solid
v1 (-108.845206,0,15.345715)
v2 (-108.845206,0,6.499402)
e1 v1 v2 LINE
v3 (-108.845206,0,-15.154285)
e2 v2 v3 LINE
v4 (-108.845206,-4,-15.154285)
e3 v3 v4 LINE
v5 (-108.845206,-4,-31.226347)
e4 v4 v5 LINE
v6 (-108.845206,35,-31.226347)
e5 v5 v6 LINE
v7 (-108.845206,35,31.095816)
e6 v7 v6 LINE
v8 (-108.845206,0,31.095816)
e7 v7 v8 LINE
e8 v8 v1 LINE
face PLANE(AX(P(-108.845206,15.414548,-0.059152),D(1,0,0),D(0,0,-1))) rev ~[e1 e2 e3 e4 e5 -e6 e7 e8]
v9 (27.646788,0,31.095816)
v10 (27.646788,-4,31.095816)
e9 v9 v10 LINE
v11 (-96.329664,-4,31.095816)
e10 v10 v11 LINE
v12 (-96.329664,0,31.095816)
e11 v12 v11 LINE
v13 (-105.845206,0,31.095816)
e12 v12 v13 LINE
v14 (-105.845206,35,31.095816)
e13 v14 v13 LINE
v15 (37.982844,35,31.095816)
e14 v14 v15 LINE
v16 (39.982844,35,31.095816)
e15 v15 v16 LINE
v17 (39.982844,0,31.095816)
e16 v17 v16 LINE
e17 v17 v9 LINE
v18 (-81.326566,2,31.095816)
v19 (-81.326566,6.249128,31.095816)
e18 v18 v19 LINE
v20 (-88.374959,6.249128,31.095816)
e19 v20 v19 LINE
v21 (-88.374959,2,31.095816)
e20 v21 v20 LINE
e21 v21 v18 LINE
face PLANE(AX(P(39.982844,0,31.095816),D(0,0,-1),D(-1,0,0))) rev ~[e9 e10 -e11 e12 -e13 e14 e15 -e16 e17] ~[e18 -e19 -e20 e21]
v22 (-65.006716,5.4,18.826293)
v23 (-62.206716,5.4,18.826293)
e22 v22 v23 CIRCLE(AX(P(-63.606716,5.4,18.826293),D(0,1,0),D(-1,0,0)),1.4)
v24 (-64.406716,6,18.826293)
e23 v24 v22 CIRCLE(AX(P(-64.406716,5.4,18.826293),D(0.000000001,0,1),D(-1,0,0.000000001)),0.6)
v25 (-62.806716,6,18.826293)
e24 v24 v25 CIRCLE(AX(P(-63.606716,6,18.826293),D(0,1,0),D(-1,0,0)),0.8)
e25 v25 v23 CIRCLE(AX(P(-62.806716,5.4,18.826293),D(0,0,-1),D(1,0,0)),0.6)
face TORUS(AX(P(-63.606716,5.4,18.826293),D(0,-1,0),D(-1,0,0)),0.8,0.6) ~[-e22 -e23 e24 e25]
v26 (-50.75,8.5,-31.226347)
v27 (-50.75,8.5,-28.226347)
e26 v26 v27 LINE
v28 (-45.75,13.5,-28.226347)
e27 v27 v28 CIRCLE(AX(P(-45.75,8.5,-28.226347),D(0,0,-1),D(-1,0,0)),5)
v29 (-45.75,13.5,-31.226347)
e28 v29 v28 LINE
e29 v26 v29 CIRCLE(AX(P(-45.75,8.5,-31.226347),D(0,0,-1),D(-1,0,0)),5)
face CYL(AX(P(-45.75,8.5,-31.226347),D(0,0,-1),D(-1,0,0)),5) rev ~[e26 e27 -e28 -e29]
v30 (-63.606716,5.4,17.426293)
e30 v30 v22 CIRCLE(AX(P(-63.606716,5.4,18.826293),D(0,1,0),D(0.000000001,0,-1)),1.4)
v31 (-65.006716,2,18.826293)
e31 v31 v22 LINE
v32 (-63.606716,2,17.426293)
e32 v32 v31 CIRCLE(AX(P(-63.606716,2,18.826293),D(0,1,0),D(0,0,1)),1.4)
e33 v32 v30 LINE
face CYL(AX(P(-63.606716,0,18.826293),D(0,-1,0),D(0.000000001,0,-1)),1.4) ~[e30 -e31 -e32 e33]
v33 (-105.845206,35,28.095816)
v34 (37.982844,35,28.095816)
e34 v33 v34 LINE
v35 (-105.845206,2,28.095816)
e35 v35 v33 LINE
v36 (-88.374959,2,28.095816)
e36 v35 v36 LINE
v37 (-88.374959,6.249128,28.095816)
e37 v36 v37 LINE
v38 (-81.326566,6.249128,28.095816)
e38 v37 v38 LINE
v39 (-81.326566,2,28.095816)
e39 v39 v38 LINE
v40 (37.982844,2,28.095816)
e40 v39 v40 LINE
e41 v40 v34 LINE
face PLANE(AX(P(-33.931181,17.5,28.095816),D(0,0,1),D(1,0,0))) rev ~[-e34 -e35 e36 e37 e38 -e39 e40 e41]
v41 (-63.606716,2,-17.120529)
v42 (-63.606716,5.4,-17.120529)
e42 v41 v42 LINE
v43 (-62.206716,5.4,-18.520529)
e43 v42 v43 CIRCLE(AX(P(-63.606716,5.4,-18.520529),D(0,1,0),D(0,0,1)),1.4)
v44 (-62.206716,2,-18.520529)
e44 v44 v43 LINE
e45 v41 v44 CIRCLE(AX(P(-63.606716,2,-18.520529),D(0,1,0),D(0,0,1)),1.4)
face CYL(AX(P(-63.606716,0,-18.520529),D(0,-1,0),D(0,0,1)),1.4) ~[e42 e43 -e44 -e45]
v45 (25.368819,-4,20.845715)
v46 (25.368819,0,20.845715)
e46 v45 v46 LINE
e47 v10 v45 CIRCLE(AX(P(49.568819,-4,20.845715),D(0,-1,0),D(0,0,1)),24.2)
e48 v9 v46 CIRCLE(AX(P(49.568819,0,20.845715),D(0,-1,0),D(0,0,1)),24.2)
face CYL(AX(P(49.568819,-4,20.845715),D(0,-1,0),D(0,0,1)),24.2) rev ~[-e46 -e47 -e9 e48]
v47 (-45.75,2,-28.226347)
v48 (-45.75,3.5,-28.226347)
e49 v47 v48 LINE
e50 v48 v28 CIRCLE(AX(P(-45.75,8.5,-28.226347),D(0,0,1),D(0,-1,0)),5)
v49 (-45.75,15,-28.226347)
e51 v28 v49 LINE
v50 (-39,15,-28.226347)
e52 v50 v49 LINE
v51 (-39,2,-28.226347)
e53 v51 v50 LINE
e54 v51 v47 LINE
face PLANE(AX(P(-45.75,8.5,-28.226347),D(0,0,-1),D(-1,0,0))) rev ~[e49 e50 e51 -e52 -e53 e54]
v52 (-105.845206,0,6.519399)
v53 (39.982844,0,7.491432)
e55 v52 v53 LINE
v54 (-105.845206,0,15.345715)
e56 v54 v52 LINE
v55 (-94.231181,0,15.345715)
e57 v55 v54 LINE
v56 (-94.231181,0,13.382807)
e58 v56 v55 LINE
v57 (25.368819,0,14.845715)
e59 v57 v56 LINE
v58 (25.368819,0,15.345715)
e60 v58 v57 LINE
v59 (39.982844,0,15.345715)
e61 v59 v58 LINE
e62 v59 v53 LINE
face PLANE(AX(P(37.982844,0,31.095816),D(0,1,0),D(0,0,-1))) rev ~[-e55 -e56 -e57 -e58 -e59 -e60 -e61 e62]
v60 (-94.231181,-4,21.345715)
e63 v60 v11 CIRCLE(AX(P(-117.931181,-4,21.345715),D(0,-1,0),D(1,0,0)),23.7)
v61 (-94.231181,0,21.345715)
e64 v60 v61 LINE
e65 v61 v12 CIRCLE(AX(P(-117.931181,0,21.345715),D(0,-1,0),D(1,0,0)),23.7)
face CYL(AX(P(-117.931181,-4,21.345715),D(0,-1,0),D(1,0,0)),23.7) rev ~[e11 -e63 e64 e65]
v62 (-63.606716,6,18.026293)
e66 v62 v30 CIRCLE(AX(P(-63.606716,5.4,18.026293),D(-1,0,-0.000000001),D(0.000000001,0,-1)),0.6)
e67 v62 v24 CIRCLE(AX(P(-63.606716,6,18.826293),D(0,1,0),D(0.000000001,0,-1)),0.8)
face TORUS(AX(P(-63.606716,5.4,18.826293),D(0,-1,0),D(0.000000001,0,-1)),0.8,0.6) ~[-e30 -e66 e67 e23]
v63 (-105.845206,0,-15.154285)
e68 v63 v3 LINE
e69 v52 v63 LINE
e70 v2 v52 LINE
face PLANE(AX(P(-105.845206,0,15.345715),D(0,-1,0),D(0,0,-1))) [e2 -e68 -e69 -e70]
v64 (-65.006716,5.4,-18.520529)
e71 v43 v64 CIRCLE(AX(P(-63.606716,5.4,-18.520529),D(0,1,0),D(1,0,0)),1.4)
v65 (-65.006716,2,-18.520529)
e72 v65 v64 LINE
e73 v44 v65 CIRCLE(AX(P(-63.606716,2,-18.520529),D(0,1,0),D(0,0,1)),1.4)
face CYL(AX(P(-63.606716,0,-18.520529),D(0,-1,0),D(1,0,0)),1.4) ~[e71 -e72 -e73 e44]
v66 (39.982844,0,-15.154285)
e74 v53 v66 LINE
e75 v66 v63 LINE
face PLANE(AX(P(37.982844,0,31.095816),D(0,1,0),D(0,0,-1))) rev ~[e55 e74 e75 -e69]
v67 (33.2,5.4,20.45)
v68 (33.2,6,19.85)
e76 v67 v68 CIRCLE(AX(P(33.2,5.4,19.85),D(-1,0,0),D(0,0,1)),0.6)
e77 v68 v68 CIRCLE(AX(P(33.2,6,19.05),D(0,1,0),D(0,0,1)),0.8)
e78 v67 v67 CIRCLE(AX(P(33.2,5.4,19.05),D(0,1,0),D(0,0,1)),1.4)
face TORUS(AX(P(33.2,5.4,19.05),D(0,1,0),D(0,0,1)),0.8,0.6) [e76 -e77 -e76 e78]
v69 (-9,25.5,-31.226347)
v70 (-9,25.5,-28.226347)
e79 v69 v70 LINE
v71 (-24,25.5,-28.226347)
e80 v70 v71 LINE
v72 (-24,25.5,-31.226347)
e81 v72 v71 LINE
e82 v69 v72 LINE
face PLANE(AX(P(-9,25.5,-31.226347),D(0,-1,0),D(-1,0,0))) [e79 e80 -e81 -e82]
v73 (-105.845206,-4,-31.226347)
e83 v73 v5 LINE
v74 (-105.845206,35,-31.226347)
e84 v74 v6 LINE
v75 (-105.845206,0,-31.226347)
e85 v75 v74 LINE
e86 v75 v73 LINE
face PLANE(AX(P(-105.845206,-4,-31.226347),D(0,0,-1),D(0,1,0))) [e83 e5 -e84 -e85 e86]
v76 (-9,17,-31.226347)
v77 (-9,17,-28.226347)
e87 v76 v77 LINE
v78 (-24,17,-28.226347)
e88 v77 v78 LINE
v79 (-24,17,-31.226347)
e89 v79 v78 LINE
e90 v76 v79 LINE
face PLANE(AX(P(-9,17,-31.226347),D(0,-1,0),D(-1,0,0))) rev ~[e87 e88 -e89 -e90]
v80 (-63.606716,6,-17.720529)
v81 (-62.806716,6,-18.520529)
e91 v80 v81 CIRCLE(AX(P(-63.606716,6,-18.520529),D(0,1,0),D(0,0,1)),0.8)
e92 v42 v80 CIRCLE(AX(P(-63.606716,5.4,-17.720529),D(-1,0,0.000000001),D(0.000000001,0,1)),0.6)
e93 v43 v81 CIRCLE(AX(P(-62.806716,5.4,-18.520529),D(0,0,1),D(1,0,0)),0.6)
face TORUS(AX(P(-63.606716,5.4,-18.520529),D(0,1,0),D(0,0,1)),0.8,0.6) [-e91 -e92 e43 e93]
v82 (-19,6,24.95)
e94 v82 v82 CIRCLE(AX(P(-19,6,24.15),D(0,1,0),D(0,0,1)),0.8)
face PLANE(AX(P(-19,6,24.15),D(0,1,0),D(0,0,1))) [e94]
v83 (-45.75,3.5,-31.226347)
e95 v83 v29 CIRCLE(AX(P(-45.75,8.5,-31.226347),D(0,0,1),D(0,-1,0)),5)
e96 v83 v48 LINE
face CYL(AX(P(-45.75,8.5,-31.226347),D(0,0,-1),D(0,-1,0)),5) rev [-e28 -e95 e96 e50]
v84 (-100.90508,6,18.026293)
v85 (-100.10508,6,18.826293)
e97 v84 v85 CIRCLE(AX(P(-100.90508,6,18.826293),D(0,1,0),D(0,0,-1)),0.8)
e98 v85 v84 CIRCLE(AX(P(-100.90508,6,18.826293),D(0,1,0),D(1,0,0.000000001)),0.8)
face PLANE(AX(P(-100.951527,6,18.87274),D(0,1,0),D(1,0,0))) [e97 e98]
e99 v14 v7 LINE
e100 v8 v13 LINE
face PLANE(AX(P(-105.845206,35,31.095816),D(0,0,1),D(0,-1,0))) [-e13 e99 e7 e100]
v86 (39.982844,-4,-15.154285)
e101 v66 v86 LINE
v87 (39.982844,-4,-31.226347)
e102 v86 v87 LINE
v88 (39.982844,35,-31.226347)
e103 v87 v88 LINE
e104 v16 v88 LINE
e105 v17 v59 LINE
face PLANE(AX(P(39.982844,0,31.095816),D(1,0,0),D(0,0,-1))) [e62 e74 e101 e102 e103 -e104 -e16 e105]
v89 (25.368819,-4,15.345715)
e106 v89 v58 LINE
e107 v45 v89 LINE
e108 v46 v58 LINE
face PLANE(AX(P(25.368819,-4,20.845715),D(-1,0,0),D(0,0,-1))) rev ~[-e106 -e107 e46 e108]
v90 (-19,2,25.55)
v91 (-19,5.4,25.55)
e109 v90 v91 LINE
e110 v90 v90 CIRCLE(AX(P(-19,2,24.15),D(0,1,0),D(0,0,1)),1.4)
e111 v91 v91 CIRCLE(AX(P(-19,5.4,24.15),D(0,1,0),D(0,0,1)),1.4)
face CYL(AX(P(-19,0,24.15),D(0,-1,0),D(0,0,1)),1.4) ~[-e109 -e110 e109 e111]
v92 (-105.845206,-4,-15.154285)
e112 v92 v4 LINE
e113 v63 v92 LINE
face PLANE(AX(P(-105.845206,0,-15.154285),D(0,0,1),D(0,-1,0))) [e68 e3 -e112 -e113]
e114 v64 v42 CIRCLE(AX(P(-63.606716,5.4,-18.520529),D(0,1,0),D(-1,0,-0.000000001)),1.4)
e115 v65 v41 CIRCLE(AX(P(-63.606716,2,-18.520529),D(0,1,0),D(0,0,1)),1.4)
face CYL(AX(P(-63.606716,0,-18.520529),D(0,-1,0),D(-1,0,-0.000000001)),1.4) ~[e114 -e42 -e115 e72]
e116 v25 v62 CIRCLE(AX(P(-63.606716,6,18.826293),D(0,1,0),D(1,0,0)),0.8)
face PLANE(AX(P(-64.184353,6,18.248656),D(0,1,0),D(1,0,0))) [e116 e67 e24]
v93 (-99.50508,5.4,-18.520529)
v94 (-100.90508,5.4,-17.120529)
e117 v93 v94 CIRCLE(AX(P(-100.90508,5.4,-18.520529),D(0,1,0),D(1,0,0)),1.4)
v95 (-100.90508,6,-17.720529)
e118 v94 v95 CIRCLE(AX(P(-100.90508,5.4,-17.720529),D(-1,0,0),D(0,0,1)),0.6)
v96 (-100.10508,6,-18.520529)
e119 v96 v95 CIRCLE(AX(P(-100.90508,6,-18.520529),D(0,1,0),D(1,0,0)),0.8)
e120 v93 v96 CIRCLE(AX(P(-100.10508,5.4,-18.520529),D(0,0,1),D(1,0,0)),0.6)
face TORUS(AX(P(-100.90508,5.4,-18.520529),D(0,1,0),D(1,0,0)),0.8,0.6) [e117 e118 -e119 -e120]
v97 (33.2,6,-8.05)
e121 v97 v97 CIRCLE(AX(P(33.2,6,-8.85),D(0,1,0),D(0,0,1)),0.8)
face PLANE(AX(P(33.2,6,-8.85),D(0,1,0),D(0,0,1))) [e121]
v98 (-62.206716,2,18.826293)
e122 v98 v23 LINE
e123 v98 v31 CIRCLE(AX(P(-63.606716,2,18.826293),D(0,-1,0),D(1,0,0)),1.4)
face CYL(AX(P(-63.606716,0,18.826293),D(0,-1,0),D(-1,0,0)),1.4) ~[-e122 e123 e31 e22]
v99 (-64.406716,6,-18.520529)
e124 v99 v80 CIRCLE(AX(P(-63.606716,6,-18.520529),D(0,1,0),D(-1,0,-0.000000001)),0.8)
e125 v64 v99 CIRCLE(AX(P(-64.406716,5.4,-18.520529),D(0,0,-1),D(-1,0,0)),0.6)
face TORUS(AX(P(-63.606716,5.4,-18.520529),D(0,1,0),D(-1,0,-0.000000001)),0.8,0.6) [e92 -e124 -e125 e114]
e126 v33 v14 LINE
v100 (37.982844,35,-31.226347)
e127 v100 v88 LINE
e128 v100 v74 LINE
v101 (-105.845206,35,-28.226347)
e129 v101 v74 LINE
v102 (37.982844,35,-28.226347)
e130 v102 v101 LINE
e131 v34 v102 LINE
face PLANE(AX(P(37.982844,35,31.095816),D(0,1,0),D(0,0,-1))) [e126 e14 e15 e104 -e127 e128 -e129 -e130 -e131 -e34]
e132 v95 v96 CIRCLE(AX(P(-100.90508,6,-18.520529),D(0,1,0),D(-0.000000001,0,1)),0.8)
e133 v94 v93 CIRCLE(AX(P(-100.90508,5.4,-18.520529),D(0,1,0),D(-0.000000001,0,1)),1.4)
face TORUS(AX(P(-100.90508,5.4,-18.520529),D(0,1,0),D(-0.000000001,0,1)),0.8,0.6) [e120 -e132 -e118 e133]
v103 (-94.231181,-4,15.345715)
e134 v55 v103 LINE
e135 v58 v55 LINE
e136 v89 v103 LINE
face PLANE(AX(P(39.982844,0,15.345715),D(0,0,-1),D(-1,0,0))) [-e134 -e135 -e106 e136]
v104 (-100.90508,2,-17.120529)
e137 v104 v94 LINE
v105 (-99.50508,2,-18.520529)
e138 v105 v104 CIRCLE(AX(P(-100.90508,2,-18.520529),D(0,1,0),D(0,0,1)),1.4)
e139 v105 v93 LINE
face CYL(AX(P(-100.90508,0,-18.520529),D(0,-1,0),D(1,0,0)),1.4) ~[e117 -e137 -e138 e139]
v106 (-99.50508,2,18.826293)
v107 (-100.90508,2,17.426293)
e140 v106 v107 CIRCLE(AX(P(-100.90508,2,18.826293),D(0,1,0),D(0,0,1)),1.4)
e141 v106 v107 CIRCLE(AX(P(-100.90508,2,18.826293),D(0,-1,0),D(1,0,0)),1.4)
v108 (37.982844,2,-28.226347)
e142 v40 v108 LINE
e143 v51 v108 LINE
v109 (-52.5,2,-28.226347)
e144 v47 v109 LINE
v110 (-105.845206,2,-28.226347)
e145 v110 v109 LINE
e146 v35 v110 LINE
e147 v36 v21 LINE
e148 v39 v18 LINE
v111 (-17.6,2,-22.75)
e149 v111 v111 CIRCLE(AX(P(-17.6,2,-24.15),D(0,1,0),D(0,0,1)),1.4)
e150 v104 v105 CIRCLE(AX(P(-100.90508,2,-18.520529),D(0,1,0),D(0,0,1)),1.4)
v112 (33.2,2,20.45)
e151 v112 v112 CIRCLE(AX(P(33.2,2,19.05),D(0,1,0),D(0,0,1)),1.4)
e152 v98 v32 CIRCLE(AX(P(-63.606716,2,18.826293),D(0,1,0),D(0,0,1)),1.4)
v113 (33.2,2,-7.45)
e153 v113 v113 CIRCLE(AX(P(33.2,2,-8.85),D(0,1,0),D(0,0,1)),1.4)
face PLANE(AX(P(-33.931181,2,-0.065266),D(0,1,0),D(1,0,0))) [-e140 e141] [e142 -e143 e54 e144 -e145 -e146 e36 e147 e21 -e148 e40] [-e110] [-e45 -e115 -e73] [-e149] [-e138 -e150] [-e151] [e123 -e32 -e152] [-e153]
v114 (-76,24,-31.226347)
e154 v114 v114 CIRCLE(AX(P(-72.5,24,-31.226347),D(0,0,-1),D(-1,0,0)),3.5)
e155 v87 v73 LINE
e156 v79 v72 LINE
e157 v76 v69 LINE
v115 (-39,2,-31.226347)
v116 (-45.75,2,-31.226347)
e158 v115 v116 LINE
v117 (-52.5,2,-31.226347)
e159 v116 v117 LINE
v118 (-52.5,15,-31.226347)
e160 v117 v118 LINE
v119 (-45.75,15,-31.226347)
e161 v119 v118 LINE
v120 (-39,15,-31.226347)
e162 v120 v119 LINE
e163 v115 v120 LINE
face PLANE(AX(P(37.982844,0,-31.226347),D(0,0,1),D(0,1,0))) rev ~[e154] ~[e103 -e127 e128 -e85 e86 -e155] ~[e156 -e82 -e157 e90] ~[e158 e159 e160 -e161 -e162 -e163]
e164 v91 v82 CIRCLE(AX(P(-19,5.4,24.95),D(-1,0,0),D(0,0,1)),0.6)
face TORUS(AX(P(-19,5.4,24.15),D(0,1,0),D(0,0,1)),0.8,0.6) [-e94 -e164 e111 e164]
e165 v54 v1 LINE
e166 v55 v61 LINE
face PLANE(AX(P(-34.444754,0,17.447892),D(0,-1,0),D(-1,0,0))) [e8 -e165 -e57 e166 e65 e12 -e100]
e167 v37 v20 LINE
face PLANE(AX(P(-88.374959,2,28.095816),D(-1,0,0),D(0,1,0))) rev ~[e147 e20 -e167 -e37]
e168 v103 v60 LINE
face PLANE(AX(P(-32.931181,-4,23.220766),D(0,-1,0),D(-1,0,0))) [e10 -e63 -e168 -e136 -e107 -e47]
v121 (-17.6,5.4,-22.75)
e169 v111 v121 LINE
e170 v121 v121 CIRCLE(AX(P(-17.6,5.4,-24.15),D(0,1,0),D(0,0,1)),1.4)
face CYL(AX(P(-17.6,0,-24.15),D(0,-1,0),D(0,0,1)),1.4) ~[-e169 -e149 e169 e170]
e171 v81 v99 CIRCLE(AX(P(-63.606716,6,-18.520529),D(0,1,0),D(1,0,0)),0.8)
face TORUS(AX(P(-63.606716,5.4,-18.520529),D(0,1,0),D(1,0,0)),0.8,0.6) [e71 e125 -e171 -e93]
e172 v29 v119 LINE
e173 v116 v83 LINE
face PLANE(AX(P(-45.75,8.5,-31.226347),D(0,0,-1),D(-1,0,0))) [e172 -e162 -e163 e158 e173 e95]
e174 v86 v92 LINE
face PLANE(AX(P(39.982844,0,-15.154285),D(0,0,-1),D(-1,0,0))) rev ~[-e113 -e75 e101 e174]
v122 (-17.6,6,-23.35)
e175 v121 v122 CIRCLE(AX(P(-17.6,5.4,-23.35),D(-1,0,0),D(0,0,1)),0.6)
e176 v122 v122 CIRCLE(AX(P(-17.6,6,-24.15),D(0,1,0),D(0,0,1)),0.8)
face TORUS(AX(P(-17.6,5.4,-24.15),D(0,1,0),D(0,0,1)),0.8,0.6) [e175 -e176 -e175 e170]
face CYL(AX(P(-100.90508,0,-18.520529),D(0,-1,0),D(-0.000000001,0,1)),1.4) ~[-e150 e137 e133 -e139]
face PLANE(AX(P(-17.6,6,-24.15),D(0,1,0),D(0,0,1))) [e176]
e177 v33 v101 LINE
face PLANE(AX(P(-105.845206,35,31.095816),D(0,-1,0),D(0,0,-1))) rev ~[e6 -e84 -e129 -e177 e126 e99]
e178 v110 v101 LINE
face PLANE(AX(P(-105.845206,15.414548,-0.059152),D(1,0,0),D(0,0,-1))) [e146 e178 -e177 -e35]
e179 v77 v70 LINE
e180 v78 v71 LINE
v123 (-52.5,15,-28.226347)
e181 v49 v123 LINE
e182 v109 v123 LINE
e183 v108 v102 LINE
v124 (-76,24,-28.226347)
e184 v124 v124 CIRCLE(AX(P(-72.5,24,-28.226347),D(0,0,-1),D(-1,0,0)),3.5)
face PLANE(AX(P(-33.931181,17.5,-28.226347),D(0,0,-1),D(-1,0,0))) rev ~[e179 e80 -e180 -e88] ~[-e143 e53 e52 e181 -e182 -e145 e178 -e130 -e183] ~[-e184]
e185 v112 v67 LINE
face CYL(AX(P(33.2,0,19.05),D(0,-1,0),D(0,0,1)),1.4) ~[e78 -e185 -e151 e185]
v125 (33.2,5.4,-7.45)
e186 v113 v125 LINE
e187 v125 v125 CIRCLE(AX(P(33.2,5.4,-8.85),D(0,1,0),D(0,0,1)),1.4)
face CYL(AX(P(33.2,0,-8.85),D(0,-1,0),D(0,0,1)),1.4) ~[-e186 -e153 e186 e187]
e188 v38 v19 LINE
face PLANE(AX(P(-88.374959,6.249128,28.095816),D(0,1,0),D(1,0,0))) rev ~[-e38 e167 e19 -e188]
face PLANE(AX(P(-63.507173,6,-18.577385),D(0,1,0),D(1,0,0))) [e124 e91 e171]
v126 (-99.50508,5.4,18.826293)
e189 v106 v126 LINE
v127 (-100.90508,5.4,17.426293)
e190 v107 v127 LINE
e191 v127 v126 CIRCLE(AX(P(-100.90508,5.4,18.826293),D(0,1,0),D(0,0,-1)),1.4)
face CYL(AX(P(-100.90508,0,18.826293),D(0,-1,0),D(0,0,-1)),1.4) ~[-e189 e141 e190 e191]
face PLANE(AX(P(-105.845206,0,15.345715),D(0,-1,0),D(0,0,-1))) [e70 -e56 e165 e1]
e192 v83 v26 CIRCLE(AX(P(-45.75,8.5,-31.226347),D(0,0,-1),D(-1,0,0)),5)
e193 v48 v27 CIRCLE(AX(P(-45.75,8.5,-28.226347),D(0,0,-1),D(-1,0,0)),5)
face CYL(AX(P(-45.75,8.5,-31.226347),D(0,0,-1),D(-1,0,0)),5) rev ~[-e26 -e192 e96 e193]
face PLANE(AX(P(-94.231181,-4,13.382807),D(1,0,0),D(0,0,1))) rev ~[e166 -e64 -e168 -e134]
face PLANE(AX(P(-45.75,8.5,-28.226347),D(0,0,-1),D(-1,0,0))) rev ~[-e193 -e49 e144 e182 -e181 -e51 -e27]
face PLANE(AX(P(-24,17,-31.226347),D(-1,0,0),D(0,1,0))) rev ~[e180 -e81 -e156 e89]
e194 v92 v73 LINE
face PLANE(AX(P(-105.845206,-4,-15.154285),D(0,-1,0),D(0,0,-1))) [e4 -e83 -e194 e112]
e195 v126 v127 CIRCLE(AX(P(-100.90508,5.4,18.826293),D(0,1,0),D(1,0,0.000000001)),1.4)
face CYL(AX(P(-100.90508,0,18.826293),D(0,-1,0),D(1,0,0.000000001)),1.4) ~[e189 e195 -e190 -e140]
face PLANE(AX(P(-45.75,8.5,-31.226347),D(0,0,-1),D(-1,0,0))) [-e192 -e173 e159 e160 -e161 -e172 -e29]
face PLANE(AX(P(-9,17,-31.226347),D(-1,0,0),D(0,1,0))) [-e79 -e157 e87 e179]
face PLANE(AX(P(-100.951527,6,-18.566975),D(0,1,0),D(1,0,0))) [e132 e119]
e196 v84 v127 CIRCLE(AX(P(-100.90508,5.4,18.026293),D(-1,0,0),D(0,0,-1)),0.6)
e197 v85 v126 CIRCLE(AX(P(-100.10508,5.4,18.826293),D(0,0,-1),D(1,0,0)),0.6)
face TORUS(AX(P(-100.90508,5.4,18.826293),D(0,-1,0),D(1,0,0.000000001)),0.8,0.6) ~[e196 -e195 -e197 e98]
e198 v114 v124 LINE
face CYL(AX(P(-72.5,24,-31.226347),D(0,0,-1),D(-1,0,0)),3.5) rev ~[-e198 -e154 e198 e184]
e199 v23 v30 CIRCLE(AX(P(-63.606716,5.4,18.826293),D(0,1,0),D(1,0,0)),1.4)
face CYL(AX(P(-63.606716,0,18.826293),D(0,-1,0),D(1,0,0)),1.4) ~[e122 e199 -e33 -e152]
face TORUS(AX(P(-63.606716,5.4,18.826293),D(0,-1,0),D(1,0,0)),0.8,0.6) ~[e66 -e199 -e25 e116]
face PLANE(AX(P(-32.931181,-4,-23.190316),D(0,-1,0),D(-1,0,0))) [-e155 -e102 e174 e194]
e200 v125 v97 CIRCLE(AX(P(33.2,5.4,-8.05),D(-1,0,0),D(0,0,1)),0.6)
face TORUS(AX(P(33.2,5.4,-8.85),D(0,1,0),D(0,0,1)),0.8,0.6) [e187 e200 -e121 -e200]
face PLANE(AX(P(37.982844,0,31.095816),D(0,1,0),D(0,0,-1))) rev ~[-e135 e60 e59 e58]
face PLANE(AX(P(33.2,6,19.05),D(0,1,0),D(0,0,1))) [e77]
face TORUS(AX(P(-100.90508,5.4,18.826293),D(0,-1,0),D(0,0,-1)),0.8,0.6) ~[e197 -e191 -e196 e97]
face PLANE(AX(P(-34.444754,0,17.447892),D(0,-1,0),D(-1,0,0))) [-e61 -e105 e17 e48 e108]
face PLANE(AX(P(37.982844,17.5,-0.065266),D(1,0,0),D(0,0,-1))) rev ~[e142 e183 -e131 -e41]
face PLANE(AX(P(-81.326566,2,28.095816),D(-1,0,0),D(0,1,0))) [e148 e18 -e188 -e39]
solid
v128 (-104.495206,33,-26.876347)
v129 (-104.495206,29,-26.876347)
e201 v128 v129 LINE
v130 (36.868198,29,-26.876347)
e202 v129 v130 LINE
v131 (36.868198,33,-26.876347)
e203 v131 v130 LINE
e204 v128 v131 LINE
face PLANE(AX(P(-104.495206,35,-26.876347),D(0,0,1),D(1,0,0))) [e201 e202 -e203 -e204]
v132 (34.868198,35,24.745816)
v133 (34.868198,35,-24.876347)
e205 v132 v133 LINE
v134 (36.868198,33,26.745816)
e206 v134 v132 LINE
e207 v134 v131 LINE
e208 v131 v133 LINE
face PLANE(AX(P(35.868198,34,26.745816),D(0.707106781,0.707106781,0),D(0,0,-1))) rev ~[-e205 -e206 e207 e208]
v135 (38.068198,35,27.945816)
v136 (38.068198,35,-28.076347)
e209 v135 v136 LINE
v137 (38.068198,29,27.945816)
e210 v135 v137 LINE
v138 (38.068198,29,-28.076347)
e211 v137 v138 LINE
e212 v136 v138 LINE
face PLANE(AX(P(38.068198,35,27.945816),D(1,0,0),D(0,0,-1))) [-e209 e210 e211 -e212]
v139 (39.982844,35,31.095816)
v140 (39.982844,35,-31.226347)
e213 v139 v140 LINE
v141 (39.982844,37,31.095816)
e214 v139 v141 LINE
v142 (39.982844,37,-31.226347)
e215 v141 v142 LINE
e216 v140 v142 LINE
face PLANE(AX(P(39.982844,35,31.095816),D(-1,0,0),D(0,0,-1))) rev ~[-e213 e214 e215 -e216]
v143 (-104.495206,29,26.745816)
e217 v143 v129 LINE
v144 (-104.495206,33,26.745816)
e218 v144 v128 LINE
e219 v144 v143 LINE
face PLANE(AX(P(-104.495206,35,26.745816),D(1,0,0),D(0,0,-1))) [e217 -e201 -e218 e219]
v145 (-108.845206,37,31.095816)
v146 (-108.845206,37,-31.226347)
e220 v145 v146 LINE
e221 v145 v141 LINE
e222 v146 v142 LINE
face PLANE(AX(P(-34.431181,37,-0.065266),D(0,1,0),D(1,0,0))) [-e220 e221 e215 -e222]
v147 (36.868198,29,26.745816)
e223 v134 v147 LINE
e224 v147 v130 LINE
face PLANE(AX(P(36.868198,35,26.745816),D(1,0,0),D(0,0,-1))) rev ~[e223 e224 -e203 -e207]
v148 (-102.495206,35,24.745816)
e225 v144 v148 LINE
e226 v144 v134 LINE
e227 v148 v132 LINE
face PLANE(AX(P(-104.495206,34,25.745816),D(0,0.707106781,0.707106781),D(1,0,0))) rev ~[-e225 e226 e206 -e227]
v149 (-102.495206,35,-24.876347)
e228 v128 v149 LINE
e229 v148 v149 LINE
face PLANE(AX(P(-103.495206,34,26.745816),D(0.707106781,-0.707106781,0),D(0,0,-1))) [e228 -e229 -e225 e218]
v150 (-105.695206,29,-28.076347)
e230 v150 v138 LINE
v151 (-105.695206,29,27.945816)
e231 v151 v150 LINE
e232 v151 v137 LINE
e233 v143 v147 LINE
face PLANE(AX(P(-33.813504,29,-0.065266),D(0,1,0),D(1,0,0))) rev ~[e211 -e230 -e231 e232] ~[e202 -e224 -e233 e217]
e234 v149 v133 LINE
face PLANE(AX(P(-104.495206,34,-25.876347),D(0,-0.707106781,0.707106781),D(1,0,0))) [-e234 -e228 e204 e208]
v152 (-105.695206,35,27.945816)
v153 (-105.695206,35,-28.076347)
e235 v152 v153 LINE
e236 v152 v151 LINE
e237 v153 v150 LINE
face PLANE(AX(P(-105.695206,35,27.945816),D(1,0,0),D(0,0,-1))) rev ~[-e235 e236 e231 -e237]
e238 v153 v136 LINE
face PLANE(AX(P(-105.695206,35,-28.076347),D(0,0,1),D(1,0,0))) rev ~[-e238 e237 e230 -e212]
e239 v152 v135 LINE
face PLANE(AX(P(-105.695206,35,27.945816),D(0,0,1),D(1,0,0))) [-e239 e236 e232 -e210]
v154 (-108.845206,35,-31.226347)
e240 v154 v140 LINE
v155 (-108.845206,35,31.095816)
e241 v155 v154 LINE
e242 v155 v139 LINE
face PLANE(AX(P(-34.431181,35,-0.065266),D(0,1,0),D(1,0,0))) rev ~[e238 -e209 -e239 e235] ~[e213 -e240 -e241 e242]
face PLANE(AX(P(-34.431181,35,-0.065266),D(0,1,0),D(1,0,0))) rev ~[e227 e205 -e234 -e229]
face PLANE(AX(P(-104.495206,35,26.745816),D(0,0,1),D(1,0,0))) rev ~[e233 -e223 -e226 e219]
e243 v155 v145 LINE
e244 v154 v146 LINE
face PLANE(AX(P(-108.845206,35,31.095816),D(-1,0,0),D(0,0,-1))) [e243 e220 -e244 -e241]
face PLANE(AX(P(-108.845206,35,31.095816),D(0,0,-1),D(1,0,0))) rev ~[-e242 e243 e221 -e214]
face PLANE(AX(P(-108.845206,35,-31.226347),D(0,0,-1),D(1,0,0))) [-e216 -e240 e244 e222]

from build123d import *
from build123d.topology import SkipClean

# Parameters (mm, degrees)
SKETCH1_W            = 143.828049814
SKETCH1_H            = 56.322163605
SKETCH1_R            = 1.4
BOSS_EXTRUDE1_DEPTH  = 2
SKETCH1_3_R          = 1.4
BOSS_EXTRUDE2_DEPTH  = 6
FILLET1_R            = 0.6
SKETCH2_W            = 143.828049814
SKETCH2_H            = 35
SKETCH2_W_2          = 7.048392978
SKETCH2_H_2          = 4.249128256
BOSS_EXTRUDE3_DEPTH  = 3
SKETCH3_W            = 143.828049814
SKETCH3_H            = 35
SKETCH3_W_2          = 13.5
SKETCH3_H_2          = 13
BOSS_EXTRUDE4_DEPTH  = 3
SKETCH5_W            = 62.322163605
SKETCH5_H            = 35
BOSS_EXTRUDE7_DEPTH  = 2
SKETCH7_W            = 145.828049814
SKETCH7_H            = 15.750101034
SKETCH7_H_2          = 16.072062571
BOSS_EXTRUDE8_DEPTH  = 4
SKETCH8_W            = 13.5
SKETCH8_H            = 13
SKETCH8_R            = 5
BOSS_EXTRUDE13_DEPTH = 3
SKETCH8_3_W          = 15
SKETCH8_3_H          = 8.5
SKETCH8_3_R          = 3.5
CUT_EXTRUDE1_DEPTH   = 3
BOSS_EXTRUDE14_DEPTH = 3
SKETCH10_W           = 143.763404156
SKETCH10_H           = 56.022163605
SKETCH10_W_2         = 141.363404156
SKETCH10_H_2         = 53.622163605
BOSS_EXTRUDE15_DEPTH = 6
SKETCH11_W           = 148.828049814
SKETCH11_H           = 62.322163605
BOSS_EXTRUDE16_DEPTH = 2
CHAMFER1_SIZE        = 2
CUT_EXTRUDE2_DEPTH   = 4


with BuildPart() as part:
    # Sketch1 → Boss-Extrude1 (new body)
    with BuildSketch(Plane(origin=(0, 0, 0), x_dir=(1, 0, 0), z_dir=(0, 1, 0))):
        with Locations((-33.931180841, 0.065265579)):
            Rectangle(SKETCH1_W, SKETCH1_H)
        with Locations(Location((-17.6, 24.15, 0), (0, 0, 270))):
            Circle(SKETCH1_R, mode=Mode.SUBTRACT)
        with Locations(Location((-19, -24.15, 0), (0, 0, 270))):
            Circle(SKETCH1_R, mode=Mode.SUBTRACT)
        with Locations(Location((33.2, -19.05, 0), (0, 0, 270))):
            Circle(SKETCH1_R, mode=Mode.SUBTRACT)
        with Locations(Location((33.2, 8.85, 0), (0, 0, 270))):
            Circle(SKETCH1_R, mode=Mode.SUBTRACT)
        with Locations(Location((-100.905080181, 18.52052857, 0), (0, 0, 270))):
            Circle(SKETCH1_R, mode=Mode.SUBTRACT)
        with Locations(Location((-63.606715651, 18.52052857, 0), (0, 0, 270))):
            Circle(SKETCH1_R, mode=Mode.SUBTRACT)
        with Locations(Location((-100.905080181, -18.826293279, 0), (0, 0, 270))):
            Circle(SKETCH1_R, mode=Mode.SUBTRACT)
        with Locations(Location((-63.606715651, -18.826293279, 0), (0, 0, 270))):
            Circle(SKETCH1_R, mode=Mode.SUBTRACT)
    extrude(amount=BOSS_EXTRUDE1_DEPTH)

    # Sketch1<3> → Boss-Extrude2 (add)
    with BuildSketch(Plane(origin=(0, 0, 0), x_dir=(1, 0, 0), z_dir=(0, 1, 0))):
        with BuildLine():
            ThreePointArc((-62.206715651, 18.52052857), (-63.606715651, 19.92052857), (-65.006715651, 18.52052857))
            Line((-65.006715651, 18.52052857), (-63.606715651, 18.52052857))
            Line((-63.606715651, 18.52052857), (-63.606715651, 17.12052857))
            ThreePointArc((-63.606715651, 17.12052857), (-62.616766158, 17.530579076), (-62.206715651, 18.52052857))
        make_face()
        with BuildLine():
            Line((-63.606715651, 18.52052857), (-65.006715651, 18.52052857))
            ThreePointArc((-65.006715651, 18.52052857), (-64.596665145, 17.530579076), (-63.606715651, 17.12052857))
            Line((-63.606715651, 17.12052857), (-63.606715651, 18.52052857))
        make_face()
        with BuildLine():
            ThreePointArc((-99.505080181, 18.52052857), (-101.895029675, 19.510478063), (-100.905080181, 17.12052857))
            Line((-100.905080181, 17.12052857), (-100.905080181, 18.52052857))
            Line((-100.905080181, 18.52052857), (-99.505080181, 18.52052857))
        make_face()
        with BuildLine():
            Line((-100.905080181, 18.52052857), (-100.905080181, 17.12052857))
            ThreePointArc((-100.905080181, 17.12052857), (-99.915130687, 17.530579076), (-99.505080181, 18.52052857))
            Line((-99.505080181, 18.52052857), (-100.905080181, 18.52052857))
        make_face()
        with BuildLine():
            ThreePointArc((-63.606715651, -17.426293279), (-64.596665145, -17.836343785), (-65.006715651, -18.826293279))
            Line((-65.006715651, -18.826293279), (-63.606715651, -18.826293279))
            Line((-63.606715651, -18.826293279), (-63.606715651, -17.426293279))
        make_face()
        with BuildLine():
            Line((-63.606715651, -18.826293279), (-65.006715651, -18.826293279))
            ThreePointArc((-65.006715651, -18.826293279), (-63.606715651, -20.226293279), (-62.206715651, -18.826293279))
            ThreePointArc((-62.206715651, -18.826293279), (-62.616766158, -17.836343785), (-63.606715651, -17.426293279))
            Line((-63.606715651, -17.426293279), (-63.606715651, -18.826293279))
        make_face()
        with BuildLine():
            Line((-99.505080181, -18.826293279), (-100.905080181, -18.826293279))
            Line((-100.905080181, -18.826293279), (-100.905080181, -17.426293279))
            ThreePointArc((-100.905080181, -17.426293279), (-101.895029675, -19.816242772), (-99.505080181, -18.826293279))
        make_face()
        with BuildLine():
            Line((-100.905080181, -17.426293279), (-100.905080181, -18.826293279))
            Line((-100.905080181, -18.826293279), (-99.505080181, -18.826293279))
            ThreePointArc((-99.505080181, -18.826293279), (-99.915130687, -17.836343785), (-100.905080181, -17.426293279))
        make_face()
        with Locations(Location((33.2, 8.85, 0), (0, 0, 270))):
            Circle(SKETCH1_3_R)
        with Locations(Location((-17.6, 24.15, 0), (0, 0, 270))):
            Circle(SKETCH1_3_R)
        with Locations(Location((-19, -24.15, 0), (0, 0, 270))):
            Circle(SKETCH1_3_R)
        with Locations(Location((33.2, -19.05, 0), (0, 0, 270))):
            Circle(SKETCH1_3_R)
    extrude(amount=BOSS_EXTRUDE2_DEPTH)

    # Fillet1
    fillet1_edges = [part.edges().sort_by_distance(p)[0] for p in [
        (-100.905080181, 6, -19.92052857),
        (-62.206715651, 6, -18.52052857),
        (-65.006715651, 6, 18.826293279),
        (-102.305080181, 6, 18.826293279),
        (33.2, 6, -10.25),
        (-17.6, 6, -25.55),
        (-19, 6, 22.75),
        (33.2, 6, 17.65),
    ]]
    fillet(fillet1_edges, radius=FILLET1_R)

    # Sketch2 → Boss-Extrude3 (add)
    with BuildSketch(Plane.XY.offset(28.095816224)):
        with Locations((-33.931180841, 17.5)):
            Rectangle(SKETCH2_W, SKETCH2_H)
        with Locations((-84.850762702, 4.124564128)):
            Rectangle(SKETCH2_W_2, SKETCH2_H_2, mode=Mode.SUBTRACT)
    extrude(amount=BOSS_EXTRUDE3_DEPTH)

    # Sketch3 → Boss-Extrude4 (add)
    with BuildSketch(Plane(origin=(0, 0, -28.226347381), x_dir=(-1, 0, 0), z_dir=(0, 0, -1))):
        with Locations((33.931180841, 17.5)):
            Rectangle(SKETCH3_W, SKETCH3_H)
        with Locations((45.75, 8.5)):
            Rectangle(SKETCH3_W_2, SKETCH3_H_2, mode=Mode.SUBTRACT)
    extrude(amount=BOSS_EXTRUDE4_DEPTH)

    # Sketch5 → Boss-Extrude7 (add)
    with BuildSketch(Plane(origin=(37.982844066, 0, 0), x_dir=(0, 0, -1), z_dir=(1, 0, 0))):
        with Locations((0.065265579, 17.5)):
            Rectangle(SKETCH5_W, SKETCH5_H)
    extrude(amount=BOSS_EXTRUDE7_DEPTH)

    # Sketch7 → Boss-Extrude8 (add)
    with BuildSketch(Plane(origin=(0, 0, 0), x_dir=(-1, 0, 0), z_dir=(0, -1, 0))):
        with Locations((32.931180841, -23.220765707)):
            Rectangle(SKETCH7_W, SKETCH7_H)
        with Locations((32.931180841, 23.190316096)):
            Rectangle(SKETCH7_W, SKETCH7_H_2)
    extrude(amount=BOSS_EXTRUDE8_DEPTH)

    # Sketch8 → Boss-Extrude13 (add)
    # profile 1 of 2: a face of its own
    with SkipClean():  # the faces are left unmerged after this step: merging them gives an invalid solid
        with BuildSketch(Plane(origin=(0, 0, -31.226347381), x_dir=(-1, 0, 0), z_dir=(0, 0, -1))):
            with Locations((45.75, 8.5)):
                Rectangle(SKETCH8_W, SKETCH8_H)
            with Locations((45.75, 8.5)):
                Circle(SKETCH8_R, mode=Mode.SUBTRACT)
        # profile 2 of 2: a face of its own
        with BuildSketch(Plane(origin=(0, 0, -31.226347381), x_dir=(-1, 0, 0), z_dir=(0, 0, -1))):
            with BuildLine():
                Line((45.75, 13.5), (45.75, 15))
                Line((45.75, 15), (39, 15))
                Line((39, 15), (39, 2))
                Line((39, 2), (45.75, 2))
                Line((45.75, 2), (45.75, 3.5))
                ThreePointArc((45.75, 3.5), (40.75, 8.5), (45.75, 13.5))
            make_face()
        extrude(amount=-BOSS_EXTRUDE13_DEPTH)

    # Sketch8<3> → Cut-Extrude1 (cut)
    with SkipClean():  # the faces are left unmerged after this step: merging them gives an invalid solid
        with BuildSketch(Plane(origin=(0, 0, -31.226347381), x_dir=(-1, 0, 0), z_dir=(0, 0, -1))):
            with Locations((16.5, 21.25)):
                Rectangle(SKETCH8_3_W, SKETCH8_3_H)
            with Locations((72.5, 24)):
                Circle(SKETCH8_3_R)
        extrude(amount=-CUT_EXTRUDE1_DEPTH, mode=Mode.SUBTRACT)

    # Sketch9 → Boss-Extrude14 (add)
    with SkipClean():  # the faces are left unmerged after this step: merging them gives an invalid solid
        with BuildSketch(Plane.ZY.offset(105.845205748)):
            Polygon((-28.226347381, 35), (28.095816224, 35), (31.095816224, 35), (31.095816224, -4), (15.34571519, -4), (15.34571519, 0), (-15.15428481, 0), (-15.15428481, -4), (-31.226347381, -4), (-31.226347381, 35), align=None)
        extrude(amount=BOSS_EXTRUDE14_DEPTH)

    # Sketch13 → Cut-Extrude2 (cut)
    with SkipClean():  # the faces are left unmerged after this step: merging them gives an invalid solid
        with BuildSketch(Plane(origin=(0, -4, 0), x_dir=(-1, 0, 0), z_dir=(0, -1, 0))):
            with BuildLine():
                Line((-44.778286925, -7.523396123), (-49.568819159, -45.04571519))
                ThreePointArc((-49.568819159, -45.04571519), (-32.456835054, -37.957699295), (-25.368819159, -20.84571519))
                Line((-25.368819159, -20.84571519), (-25.368819159, -14.84571519))
                Line((-25.368819159, -14.84571519), (94.231180841, -13.382807013))
                Line((94.231180841, -13.382807013), (94.231180841, -21.34571519))
                ThreePointArc((94.231180841, -21.34571519), (101.172750127, -38.104145904), (117.931180841, -45.04571519))
                Line((117.931180841, -45.04571519), (112.257259812, -6.476658502))
                Line((112.257259812, -6.476658502), (-44.778286925, -7.523396123))
            make_face()
        extrude(amount=-CUT_EXTRUDE2_DEPTH, mode=Mode.SUBTRACT)


with BuildPart() as body_2:
    # Sketch10 → Boss-Extrude15 (new body)
    with BuildSketch(Plane(origin=(0, 35, 0), x_dir=(1, 0, 0), z_dir=(0, 1, 0))):
        with Locations((-33.81350367, 0.065265579)):
            Rectangle(SKETCH10_W, SKETCH10_H)
        with Locations((-33.81350367, 0.065265579)):
            Rectangle(SKETCH10_W_2, SKETCH10_H_2, mode=Mode.SUBTRACT)
    extrude(amount=-BOSS_EXTRUDE15_DEPTH)

    # Sketch11 → Boss-Extrude16 (add)
    with BuildSketch(Plane(origin=(0, 35, 0), x_dir=(1, 0, 0), z_dir=(0, 1, 0))):
        with Locations((-34.431180841, 0.065265579)):
            Rectangle(SKETCH11_W, SKETCH11_H)
    extrude(amount=BOSS_EXTRUDE16_DEPTH)

    # Chamfer1
    chamfer1_edges = [body_2.edges().sort_by_distance(p)[0] for p in [
        (-33.81350367, 35, -26.876347381),
        (-104.495205748, 35, -0.065265578),
        (-33.81350367, 35, 26.745816224),
        (36.868198408, 35, -0.065265578),
    ]]
    chamfer(chamfer1_edges, length=CHAMFER1_SIZE)


solid = Compound([part.part, body_2.part])
